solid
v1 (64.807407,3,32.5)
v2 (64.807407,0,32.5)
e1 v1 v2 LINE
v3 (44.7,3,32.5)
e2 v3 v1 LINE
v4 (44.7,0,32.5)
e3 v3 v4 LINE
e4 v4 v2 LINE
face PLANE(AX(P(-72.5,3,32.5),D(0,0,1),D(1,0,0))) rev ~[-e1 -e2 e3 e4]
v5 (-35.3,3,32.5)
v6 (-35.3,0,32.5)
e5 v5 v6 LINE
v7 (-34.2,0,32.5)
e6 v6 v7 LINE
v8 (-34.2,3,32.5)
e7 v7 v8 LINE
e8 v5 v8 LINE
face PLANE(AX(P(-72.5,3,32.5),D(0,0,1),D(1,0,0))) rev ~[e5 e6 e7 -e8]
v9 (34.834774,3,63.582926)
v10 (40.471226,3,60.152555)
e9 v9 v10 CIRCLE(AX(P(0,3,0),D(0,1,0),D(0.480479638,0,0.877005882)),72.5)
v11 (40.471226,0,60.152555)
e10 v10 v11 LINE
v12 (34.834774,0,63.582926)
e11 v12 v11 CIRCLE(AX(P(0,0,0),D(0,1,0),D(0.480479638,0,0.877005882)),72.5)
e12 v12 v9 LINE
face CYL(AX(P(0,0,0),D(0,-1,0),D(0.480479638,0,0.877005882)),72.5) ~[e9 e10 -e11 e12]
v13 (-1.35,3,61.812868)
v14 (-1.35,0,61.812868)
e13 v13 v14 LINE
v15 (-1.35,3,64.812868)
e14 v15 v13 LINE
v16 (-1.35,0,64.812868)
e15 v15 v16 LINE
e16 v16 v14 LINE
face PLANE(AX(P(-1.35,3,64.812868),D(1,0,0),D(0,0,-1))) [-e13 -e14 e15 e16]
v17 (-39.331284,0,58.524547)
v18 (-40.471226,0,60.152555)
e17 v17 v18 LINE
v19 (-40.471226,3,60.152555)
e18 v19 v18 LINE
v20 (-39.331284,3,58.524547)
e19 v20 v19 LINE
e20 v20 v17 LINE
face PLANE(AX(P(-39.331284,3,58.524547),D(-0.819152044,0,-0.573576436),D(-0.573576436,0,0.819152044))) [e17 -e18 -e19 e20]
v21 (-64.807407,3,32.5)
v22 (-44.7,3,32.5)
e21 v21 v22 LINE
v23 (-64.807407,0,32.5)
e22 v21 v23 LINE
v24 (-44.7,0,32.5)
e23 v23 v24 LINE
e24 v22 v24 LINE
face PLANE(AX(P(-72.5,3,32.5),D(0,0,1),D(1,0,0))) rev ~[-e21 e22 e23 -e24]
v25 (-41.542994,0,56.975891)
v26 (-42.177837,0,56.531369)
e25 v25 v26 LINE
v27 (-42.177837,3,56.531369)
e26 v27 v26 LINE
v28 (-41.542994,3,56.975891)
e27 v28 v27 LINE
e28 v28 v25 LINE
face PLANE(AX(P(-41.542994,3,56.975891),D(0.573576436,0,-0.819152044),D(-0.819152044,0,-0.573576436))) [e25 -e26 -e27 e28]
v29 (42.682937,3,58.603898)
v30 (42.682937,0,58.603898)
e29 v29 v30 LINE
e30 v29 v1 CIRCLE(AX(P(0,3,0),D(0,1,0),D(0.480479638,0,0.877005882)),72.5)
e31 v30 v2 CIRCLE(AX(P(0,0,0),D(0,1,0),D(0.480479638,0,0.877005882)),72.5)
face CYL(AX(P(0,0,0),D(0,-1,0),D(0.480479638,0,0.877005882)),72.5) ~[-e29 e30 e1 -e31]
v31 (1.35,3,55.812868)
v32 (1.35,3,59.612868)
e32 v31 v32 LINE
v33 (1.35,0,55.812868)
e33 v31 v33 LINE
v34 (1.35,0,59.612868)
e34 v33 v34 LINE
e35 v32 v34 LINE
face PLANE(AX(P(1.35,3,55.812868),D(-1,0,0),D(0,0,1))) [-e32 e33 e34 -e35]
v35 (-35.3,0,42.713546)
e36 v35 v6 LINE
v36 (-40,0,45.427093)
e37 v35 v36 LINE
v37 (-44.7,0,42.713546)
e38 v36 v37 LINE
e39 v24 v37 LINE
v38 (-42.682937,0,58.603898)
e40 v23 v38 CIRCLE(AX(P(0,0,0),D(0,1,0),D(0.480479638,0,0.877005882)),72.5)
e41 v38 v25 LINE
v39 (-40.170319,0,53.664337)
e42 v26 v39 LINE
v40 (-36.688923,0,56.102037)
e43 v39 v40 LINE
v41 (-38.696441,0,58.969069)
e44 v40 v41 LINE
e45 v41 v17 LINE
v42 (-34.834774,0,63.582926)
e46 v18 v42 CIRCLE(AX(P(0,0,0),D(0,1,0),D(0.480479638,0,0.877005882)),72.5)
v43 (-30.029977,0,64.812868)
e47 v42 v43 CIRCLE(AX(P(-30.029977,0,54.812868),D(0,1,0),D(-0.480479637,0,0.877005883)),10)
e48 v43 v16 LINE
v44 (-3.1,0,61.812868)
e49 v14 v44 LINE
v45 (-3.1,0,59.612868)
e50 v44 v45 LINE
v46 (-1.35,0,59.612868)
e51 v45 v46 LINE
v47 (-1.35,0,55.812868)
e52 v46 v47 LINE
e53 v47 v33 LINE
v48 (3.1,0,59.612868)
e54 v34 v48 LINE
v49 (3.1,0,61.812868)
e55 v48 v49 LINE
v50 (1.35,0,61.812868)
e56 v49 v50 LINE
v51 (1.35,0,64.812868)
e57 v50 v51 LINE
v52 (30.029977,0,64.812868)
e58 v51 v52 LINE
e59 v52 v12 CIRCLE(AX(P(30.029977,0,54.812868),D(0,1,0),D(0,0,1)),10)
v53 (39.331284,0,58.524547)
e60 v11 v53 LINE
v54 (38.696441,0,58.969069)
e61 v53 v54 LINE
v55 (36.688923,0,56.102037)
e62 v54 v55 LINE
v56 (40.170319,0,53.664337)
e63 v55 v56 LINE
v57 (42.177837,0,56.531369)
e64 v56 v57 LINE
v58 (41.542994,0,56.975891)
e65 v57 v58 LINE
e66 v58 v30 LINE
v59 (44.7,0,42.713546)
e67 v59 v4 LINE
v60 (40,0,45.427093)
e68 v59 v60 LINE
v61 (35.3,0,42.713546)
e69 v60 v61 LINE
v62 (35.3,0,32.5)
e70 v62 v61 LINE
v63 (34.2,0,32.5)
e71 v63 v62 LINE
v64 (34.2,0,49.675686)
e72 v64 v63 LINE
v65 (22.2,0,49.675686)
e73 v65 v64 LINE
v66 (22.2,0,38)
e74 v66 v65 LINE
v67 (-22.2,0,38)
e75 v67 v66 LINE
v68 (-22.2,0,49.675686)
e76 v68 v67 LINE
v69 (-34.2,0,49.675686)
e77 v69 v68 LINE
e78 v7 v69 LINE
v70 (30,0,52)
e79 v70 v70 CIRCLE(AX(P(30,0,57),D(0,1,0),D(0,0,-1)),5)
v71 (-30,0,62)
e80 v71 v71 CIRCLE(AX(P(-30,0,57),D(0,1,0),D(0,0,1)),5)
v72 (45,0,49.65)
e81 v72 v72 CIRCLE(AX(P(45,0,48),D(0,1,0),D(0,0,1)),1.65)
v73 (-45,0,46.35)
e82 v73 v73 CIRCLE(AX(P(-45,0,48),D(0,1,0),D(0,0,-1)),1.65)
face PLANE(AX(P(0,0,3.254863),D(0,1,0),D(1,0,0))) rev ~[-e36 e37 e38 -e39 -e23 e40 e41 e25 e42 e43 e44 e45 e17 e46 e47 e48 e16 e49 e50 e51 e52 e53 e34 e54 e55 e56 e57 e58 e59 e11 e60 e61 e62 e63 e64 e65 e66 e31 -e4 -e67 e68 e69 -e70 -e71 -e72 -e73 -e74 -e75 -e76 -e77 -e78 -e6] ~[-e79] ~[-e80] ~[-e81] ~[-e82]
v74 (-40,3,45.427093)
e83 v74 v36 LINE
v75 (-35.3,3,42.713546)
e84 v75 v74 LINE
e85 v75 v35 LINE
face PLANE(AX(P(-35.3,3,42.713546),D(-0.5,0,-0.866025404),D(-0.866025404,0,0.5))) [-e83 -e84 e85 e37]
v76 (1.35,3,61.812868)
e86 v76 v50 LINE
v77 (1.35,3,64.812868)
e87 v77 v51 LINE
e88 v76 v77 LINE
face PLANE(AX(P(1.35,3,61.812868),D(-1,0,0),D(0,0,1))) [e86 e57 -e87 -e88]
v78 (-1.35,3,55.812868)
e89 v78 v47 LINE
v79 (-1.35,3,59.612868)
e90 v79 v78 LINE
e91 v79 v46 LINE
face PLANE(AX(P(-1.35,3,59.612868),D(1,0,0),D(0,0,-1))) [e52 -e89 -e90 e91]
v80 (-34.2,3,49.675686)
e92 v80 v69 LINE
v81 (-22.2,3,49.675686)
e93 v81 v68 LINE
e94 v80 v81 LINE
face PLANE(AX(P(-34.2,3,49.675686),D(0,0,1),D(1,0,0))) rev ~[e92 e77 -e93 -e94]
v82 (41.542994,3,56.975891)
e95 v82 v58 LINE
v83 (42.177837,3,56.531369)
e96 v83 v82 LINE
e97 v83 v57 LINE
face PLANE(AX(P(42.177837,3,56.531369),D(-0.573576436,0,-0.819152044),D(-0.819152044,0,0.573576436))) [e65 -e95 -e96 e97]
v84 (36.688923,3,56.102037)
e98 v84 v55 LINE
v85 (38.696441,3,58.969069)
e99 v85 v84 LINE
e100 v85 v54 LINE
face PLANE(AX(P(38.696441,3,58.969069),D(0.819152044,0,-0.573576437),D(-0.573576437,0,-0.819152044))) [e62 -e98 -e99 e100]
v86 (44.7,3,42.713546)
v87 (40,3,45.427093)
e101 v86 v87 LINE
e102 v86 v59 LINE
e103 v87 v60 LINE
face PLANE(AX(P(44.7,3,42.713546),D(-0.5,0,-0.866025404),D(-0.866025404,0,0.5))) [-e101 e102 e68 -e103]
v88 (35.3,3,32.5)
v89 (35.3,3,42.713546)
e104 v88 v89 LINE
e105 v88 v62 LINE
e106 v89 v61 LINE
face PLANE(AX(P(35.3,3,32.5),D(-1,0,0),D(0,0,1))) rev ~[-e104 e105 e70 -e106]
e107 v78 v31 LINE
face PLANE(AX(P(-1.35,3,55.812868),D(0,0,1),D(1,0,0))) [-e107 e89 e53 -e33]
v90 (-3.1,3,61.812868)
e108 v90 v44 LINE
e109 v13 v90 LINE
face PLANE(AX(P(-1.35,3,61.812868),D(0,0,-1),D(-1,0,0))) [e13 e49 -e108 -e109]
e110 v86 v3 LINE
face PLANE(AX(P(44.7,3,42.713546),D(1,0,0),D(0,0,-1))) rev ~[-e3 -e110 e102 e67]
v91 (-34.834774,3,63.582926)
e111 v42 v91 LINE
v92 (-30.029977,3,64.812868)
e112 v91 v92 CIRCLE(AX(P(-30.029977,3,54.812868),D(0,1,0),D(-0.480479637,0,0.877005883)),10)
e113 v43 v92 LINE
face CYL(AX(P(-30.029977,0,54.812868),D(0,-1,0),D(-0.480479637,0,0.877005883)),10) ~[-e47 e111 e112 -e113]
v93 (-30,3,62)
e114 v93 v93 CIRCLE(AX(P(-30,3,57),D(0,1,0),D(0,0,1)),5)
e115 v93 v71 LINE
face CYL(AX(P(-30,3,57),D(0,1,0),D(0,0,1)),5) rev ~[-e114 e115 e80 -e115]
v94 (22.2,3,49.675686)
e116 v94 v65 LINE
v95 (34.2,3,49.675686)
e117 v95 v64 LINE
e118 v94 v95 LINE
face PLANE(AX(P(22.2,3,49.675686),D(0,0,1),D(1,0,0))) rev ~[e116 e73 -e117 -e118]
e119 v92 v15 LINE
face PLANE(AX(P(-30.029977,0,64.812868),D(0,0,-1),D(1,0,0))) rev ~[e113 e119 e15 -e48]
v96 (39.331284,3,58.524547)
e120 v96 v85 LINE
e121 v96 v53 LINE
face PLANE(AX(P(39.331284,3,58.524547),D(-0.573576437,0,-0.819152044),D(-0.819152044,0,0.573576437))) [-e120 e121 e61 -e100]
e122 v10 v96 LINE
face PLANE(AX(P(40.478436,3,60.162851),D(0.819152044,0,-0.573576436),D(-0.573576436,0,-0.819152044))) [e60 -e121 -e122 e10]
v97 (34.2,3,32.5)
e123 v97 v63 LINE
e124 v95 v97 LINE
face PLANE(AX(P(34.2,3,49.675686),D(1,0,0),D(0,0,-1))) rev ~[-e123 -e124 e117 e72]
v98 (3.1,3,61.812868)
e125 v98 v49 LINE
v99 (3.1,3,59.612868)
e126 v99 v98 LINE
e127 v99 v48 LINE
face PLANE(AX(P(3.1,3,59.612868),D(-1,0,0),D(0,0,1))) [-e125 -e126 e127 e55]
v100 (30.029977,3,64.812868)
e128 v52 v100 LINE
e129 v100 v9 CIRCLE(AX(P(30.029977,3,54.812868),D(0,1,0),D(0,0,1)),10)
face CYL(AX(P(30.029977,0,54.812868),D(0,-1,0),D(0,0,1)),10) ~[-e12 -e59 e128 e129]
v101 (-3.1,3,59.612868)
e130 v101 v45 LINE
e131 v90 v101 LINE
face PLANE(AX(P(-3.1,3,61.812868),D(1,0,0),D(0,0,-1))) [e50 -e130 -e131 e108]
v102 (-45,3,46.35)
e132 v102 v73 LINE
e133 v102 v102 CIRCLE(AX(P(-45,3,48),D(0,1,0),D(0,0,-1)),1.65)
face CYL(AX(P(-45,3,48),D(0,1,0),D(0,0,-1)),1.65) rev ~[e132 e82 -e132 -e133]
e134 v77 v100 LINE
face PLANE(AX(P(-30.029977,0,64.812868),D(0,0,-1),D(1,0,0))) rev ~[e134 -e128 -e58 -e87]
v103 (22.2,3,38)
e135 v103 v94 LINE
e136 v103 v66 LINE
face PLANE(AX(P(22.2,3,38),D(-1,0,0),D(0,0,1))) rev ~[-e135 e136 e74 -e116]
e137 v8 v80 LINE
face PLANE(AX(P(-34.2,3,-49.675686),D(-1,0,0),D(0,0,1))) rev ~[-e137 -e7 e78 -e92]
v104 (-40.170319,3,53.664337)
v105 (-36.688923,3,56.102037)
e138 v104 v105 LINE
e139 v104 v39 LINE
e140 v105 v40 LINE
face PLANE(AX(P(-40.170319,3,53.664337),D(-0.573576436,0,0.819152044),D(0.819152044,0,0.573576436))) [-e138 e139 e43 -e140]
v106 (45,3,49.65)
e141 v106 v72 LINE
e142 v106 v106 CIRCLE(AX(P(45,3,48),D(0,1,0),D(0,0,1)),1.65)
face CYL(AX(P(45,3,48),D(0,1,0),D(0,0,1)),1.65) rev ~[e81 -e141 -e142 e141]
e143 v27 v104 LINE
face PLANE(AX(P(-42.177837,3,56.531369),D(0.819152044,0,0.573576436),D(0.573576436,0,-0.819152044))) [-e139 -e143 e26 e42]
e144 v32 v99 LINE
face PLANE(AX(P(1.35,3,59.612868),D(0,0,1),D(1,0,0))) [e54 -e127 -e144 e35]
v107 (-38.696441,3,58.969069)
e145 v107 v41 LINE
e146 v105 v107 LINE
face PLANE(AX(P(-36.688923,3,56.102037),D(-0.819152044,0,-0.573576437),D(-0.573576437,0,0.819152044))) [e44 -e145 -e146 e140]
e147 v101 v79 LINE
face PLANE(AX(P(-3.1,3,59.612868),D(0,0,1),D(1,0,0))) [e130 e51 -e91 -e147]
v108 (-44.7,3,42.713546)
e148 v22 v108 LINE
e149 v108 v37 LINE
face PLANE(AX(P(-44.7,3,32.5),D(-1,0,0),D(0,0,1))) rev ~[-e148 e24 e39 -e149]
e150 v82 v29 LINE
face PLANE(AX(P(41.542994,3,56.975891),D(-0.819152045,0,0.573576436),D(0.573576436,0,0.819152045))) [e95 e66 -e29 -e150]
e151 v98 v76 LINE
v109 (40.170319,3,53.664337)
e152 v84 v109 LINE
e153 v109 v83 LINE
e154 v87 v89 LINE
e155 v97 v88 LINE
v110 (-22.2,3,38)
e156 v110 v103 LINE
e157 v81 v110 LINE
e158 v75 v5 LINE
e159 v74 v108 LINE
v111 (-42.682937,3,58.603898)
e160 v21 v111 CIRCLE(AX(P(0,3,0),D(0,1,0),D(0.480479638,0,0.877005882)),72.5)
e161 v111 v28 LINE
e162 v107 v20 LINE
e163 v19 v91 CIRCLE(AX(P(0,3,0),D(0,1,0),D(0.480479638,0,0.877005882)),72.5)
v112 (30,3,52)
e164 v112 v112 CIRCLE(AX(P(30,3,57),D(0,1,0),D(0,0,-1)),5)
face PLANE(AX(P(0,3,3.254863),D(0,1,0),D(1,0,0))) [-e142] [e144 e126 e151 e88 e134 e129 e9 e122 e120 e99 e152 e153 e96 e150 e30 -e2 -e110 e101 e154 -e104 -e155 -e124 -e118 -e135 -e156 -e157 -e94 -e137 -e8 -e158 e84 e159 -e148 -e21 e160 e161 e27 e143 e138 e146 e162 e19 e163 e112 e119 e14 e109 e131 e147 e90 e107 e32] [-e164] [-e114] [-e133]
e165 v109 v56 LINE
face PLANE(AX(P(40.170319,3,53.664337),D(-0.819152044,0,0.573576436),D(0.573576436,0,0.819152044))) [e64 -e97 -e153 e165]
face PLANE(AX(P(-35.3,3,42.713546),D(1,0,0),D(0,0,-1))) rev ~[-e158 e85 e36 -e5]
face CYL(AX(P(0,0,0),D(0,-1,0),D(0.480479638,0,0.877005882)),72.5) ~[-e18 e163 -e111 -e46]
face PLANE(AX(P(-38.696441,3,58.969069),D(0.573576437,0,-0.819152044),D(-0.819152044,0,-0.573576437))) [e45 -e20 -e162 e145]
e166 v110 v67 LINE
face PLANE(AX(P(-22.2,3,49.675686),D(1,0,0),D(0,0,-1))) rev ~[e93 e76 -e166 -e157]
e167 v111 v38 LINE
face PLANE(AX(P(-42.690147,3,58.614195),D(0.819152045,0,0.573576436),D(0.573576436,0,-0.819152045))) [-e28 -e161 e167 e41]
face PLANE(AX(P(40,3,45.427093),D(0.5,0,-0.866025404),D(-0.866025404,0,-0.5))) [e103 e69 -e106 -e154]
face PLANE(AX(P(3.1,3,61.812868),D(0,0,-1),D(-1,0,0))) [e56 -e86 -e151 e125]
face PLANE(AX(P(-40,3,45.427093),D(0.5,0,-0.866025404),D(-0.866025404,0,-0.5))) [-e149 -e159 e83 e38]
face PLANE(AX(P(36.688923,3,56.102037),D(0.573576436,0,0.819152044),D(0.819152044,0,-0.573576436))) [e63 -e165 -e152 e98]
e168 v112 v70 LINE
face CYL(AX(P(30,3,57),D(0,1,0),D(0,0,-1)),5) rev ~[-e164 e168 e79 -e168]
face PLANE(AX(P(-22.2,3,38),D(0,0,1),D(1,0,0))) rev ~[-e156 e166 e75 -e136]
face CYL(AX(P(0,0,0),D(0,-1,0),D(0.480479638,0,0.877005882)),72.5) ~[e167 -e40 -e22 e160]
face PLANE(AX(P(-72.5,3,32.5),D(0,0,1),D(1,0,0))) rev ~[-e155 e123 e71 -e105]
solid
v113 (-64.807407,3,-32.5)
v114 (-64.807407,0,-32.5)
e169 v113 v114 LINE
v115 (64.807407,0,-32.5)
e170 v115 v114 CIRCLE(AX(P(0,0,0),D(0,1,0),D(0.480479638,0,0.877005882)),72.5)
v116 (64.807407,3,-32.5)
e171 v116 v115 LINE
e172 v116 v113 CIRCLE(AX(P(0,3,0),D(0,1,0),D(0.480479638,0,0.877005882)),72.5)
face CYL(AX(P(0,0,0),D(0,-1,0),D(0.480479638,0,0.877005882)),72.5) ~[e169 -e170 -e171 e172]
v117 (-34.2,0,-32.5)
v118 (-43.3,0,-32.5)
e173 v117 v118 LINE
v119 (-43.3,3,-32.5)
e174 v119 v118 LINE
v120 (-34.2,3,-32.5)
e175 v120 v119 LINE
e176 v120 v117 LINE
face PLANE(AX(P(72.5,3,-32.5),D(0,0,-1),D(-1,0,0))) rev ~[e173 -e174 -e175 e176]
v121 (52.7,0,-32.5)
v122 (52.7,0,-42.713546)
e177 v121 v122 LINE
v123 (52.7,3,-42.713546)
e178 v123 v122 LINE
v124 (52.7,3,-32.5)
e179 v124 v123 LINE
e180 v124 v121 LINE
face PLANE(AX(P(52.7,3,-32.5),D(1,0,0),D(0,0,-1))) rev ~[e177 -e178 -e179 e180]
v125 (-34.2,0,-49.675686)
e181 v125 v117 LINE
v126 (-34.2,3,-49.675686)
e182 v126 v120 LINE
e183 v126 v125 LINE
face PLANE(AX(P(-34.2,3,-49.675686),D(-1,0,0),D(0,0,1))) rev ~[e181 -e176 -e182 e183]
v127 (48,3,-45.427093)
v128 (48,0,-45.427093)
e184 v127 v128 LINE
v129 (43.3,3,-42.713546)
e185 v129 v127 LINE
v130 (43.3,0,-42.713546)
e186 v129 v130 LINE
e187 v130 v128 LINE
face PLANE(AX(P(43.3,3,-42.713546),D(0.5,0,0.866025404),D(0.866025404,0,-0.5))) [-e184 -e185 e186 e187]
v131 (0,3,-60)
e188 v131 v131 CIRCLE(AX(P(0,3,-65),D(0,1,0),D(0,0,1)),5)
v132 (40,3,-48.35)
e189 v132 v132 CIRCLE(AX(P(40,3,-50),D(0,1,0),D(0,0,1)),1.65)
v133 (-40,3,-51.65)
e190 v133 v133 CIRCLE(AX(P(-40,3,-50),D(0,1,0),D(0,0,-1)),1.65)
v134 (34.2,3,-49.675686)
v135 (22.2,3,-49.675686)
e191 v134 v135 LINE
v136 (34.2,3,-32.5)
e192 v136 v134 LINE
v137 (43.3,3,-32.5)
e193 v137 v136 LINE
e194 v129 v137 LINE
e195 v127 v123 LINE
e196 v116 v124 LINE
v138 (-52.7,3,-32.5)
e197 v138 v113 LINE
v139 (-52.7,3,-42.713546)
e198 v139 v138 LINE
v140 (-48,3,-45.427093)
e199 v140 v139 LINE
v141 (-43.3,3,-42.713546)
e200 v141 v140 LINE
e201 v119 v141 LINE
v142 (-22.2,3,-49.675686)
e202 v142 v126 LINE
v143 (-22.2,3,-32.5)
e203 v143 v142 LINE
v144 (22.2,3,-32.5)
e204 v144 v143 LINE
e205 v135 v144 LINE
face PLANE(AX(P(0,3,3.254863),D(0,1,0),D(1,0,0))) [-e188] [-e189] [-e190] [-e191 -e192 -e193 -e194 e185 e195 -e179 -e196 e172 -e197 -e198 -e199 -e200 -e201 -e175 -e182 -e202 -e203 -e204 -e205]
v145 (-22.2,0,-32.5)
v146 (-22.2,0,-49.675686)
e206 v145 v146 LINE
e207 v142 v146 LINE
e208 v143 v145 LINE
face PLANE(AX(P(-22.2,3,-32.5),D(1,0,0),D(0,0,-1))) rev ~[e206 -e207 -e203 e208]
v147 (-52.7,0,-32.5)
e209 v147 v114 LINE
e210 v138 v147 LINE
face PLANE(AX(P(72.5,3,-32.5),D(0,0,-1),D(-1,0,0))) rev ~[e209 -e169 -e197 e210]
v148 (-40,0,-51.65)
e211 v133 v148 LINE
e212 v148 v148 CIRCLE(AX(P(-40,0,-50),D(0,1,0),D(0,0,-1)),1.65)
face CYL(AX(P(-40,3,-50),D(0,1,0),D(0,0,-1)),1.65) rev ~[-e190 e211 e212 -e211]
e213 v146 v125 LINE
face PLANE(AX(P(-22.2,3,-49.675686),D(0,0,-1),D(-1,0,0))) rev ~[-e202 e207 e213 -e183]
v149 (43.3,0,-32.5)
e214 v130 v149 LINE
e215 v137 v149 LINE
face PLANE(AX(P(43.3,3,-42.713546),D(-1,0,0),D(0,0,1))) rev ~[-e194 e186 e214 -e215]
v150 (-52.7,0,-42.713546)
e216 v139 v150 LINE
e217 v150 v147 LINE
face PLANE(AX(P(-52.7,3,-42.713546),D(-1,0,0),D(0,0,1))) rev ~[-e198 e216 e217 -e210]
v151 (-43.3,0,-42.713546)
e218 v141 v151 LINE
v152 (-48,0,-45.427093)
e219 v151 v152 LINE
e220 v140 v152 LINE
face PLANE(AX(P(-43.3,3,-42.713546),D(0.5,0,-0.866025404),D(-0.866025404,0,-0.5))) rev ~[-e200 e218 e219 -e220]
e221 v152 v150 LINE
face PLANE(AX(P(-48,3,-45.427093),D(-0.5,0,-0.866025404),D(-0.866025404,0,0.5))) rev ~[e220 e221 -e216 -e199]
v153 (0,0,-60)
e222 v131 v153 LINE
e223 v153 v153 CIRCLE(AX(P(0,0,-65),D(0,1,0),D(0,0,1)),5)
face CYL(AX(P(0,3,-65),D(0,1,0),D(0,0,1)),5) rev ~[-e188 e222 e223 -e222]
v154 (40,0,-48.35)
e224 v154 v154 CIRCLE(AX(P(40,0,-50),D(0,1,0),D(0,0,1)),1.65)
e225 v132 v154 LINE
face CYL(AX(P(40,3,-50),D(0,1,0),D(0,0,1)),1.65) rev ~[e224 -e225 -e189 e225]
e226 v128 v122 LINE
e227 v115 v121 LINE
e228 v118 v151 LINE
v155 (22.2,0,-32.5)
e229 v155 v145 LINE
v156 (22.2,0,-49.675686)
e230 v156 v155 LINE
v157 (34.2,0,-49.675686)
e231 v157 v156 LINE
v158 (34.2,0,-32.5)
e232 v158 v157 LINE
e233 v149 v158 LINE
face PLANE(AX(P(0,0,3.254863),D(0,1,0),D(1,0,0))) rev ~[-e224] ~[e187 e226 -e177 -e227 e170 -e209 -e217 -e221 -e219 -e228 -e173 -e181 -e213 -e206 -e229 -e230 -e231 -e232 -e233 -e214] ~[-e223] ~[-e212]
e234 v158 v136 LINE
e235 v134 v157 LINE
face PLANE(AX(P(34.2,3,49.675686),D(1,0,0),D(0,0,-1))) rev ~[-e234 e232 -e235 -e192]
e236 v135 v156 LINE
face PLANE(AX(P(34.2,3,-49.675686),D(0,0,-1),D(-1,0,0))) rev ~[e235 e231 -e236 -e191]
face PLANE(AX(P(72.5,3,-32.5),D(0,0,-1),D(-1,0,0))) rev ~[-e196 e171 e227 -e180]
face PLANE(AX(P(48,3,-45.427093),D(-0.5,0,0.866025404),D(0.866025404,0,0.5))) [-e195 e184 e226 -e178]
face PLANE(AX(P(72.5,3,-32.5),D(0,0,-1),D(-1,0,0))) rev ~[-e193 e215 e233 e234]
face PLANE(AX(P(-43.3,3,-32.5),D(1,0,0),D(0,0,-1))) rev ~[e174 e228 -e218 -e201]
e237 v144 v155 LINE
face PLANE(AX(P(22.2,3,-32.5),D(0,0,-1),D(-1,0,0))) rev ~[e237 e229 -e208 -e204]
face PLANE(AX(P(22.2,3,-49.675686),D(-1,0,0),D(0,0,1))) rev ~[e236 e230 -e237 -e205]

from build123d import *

# Parameters (mm, degrees)
BOSS_EXTRUDE1_DEPTH = 3
CUT_EXTRUDE1_DEPTH  = 103.574363269
CUT_EXTRUDE2_DEPTH  = 103.574363269
SKETCH4_R           = 5
CUT_EXTRUDE3_DEPTH  = 98.289516393
CUT_EXTRUDE4_DEPTH  = 98.289516393
SKETCH7_R           = 5
CUT_EXTRUDE6_DEPTH  = 98.289516393
CUT_EXTRUDE7_DEPTH  = 98.289516393
SKETCH9_R           = 1.65
CUT_EXTRUDE8_DEPTH  = 98.289516393
CUT_EXTRUDE9_DEPTH  = 98.289516393


with BuildPart() as part:
    # Sketch1 → Boss-Extrude1 (new body)
    with BuildSketch(Plane(origin=(0, 0, 0), x_dir=(1, 0, 0), z_dir=(0, 1, 0))):
        with BuildLine():
            Line((-30.029977361, -64.812867647), (30.029977361, -64.812867647))
            ThreePointArc((30.029977361, -64.812867647), (32.509837414, -64.500503794), (34.834773739, -63.582926471))
            ThreePointArc((34.834773739, -63.582926471), (0, 72.5), (-34.834773739, -63.582926471))
            ThreePointArc((-34.834773739, -63.582926471), (-32.509837414, -64.500503794), (-30.029977361, -64.812867647))
        make_face()
    extrude(amount=BOSS_EXTRUDE1_DEPTH)

    # Sketch2 → Cut-Extrude1 (cut, through all)
    with BuildSketch(Plane(origin=(0, 3, 0), x_dir=(1, 0, 0), z_dir=(0, 1, 0))):
        Polygon((-34.2, -49.675685802), (-22.2, -49.675685802), (-22.2, -38), (22.2, -38), (22.2, -49.675685802), (34.2, -49.675685802), (34.2, 49.675685802), (22.2, 49.675685802), (22.2, 32.5), (19, 32.5), (19, 28.2), (-19, 28.2), (-19, 32.5), (-22.2, 32.5), (-22.2, 49.675685802), (-34.2, 49.675685802), align=None)
    extrude(amount=-CUT_EXTRUDE1_DEPTH, mode=Mode.SUBTRACT)

    # Sketch3 → Cut-Extrude2 (cut, through all)
    with BuildSketch(Plane(origin=(0, 3, 0), x_dir=(1, 0, 0), z_dir=(0, 1, 0))):
        Polygon((34.2, -32.5), (-34.2, -32.5), (-72.5, -32.5), (-72.5, 32.5), (-34.2, 32.5), (34.2, 32.5), (72.5, 32.5), (72.5, -32.5), align=None)
    extrude(amount=-CUT_EXTRUDE2_DEPTH, mode=Mode.SUBTRACT)


with BuildPart() as cut_extrude2_piece_1:
    # of the separate pieces the step leaves, piece 1, a body of its own (cut_extrude2_pieces)
    add(part.part.solids().sort_by_distance((64.807406984, 0, -32.5))[0])


with BuildPart() as cut_extrude2_piece_2:
    # of the separate pieces the step leaves, piece 2, a body of its own (cut_extrude2_pieces)
    add(part.part.solids().sort_by_distance((-34.834773739, 0, 63.582926471))[0])

    # Sketch4 → Cut-Extrude3 (cut, through all)
    with BuildSketch(Plane(origin=(0, 3, 0), x_dir=(1, 0, 0), z_dir=(0, 1, 0))):
        with Locations(Location((30, -57, 0), (0, 0, 90))):
            Circle(SKETCH4_R)
        with Locations(Location((-30, -57, 0), (0, 0, 270))):
            Circle(SKETCH4_R)
    extrude(amount=-CUT_EXTRUDE3_DEPTH, mode=Mode.SUBTRACT)


with BuildPart() as cut_extrude4_tool:
    # Sketch5 → Cut-Extrude4 (new, through all)
    with BuildSketch(Plane(origin=(0, 3, 0), x_dir=(1, 0, 0), z_dir=(0, 1, 0))):
        Polygon((-52.7, 37.286453735), (-52.7, 32.5), (-43.3, 32.5), (-43.3, 37.286453735), (-43.3, 42.713546265), (-48, 45.42709253), (-52.7, 42.713546265), align=None)
        Polygon((-44.7, -37.286453735), (-44.7, -32.5), (-35.3, -32.5), (-35.3, -37.286453735), (-35.3, -42.713546265), (-40, -45.42709253), (-44.7, -42.713546265), align=None)
        Polygon((35.3, -32.5), (44.7, -32.5), (44.7, -37.286453735), (44.7, -42.713546265), (40, -45.42709253), (35.3, -42.713546265), (35.3, -37.286453735), align=None)
        Polygon((43.3, 37.286453735), (43.3, 42.713546265), (48, 45.42709253), (52.7, 42.713546265), (52.7, 37.286453735), (52.7, 32.5), (43.3, 32.5), align=None)
    extrude(amount=-CUT_EXTRUDE4_DEPTH)


with BuildPart() as cut_extrude2_piece_1_1:
    add(cut_extrude2_piece_1.part)

    # Cut-Extrude4: cut by cut_extrude4_tool
    add(cut_extrude4_tool.part, mode=Mode.SUBTRACT)

    # Sketch7 → Cut-Extrude6 (cut, through all)
    with BuildSketch(Plane(origin=(0, 3, 0), x_dir=(1, 0, 0), z_dir=(0, 1, 0))):
        with Locations(Location((0, 65, 0), (0, 0, 270))):
            Circle(SKETCH7_R)
    extrude(amount=-CUT_EXTRUDE6_DEPTH, mode=Mode.SUBTRACT)


with BuildPart() as cut_extrude2_piece_2_1:
    add(cut_extrude2_piece_2.part)

    # Cut-Extrude4: cut by cut_extrude4_tool
    add(cut_extrude4_tool.part, mode=Mode.SUBTRACT)

    # Sketch8 → Cut-Extrude7 (cut, through all)
    with BuildSketch(Plane(origin=(0, 3, 0), x_dir=(1, 0, 0), z_dir=(0, 1, 0))):
        Polygon((-1.35, -64.812867647), (-1.35, -61.812867647), (-3.1, -61.812867647), (-3.1, -59.612867647), (-1.35, -59.612867647), (-1.35, -55.812867647), (1.35, -55.812867647), (1.35, -59.612867647), (3.1, -59.612867647), (3.1, -61.812867647), (1.35, -61.812867647), (1.35, -64.812867647), align=None)
    extrude(amount=-CUT_EXTRUDE7_DEPTH, mode=Mode.SUBTRACT)


with BuildPart() as cut_extrude8_tool:
    # Sketch9 → Cut-Extrude8 (new, through all)
    with BuildSketch(Plane(origin=(0, 3, 0), x_dir=(1, 0, 0), z_dir=(0, 1, 0))):
        with Locations(Location((45, -48, 0), (0, 0, 270))):
            Circle(SKETCH9_R)
        with Locations(Location((-45, -48, 0), (0, 0, 90))):
            Circle(SKETCH9_R)
        with Locations(Location((40, 50, 0), (0, 0, 270))):
            Circle(SKETCH9_R)
        with Locations(Location((-40, 50, 0), (0, 0, 90))):
            Circle(SKETCH9_R)
    extrude(amount=-CUT_EXTRUDE8_DEPTH)


with BuildPart() as cut_extrude2_piece_1_2:
    add(cut_extrude2_piece_1_1.part)

    # Cut-Extrude8: cut by cut_extrude8_tool
    add(cut_extrude8_tool.part, mode=Mode.SUBTRACT)


with BuildPart() as cut_extrude2_piece_2_2:
    add(cut_extrude2_piece_2_1.part)

    # Cut-Extrude8: cut by cut_extrude8_tool
    add(cut_extrude8_tool.part, mode=Mode.SUBTRACT)

    # Sketch10 → Cut-Extrude9 (cut, through all)
    with BuildSketch(Plane(origin=(0, 3, 0), x_dir=(1, 0, 0), z_dir=(0, 1, 0))):
        Polygon((36.688923141, -56.102036895), (40.17031933, -53.66433704), (42.177836857, -56.531369195), (41.542994023, -56.975890933), (42.690146895, -58.614195022), (40.478436376, -60.1628514), (39.331283503, -58.524547311), (38.696440669, -58.96906905), align=None)
        Polygon((-41.542994023, -56.975890933), (-42.177836857, -56.531369195), (-40.17031933, -53.66433704), (-36.688923141, -56.102036895), (-38.696440669, -58.96906905), (-39.331283503, -58.524547311), (-40.478436376, -60.1628514), (-42.690146895, -58.614195022), align=None)
    extrude(amount=-CUT_EXTRUDE9_DEPTH, mode=Mode.SUBTRACT)


solid = Compound([cut_extrude2_piece_1_2.part, cut_extrude2_piece_2_2.part])
